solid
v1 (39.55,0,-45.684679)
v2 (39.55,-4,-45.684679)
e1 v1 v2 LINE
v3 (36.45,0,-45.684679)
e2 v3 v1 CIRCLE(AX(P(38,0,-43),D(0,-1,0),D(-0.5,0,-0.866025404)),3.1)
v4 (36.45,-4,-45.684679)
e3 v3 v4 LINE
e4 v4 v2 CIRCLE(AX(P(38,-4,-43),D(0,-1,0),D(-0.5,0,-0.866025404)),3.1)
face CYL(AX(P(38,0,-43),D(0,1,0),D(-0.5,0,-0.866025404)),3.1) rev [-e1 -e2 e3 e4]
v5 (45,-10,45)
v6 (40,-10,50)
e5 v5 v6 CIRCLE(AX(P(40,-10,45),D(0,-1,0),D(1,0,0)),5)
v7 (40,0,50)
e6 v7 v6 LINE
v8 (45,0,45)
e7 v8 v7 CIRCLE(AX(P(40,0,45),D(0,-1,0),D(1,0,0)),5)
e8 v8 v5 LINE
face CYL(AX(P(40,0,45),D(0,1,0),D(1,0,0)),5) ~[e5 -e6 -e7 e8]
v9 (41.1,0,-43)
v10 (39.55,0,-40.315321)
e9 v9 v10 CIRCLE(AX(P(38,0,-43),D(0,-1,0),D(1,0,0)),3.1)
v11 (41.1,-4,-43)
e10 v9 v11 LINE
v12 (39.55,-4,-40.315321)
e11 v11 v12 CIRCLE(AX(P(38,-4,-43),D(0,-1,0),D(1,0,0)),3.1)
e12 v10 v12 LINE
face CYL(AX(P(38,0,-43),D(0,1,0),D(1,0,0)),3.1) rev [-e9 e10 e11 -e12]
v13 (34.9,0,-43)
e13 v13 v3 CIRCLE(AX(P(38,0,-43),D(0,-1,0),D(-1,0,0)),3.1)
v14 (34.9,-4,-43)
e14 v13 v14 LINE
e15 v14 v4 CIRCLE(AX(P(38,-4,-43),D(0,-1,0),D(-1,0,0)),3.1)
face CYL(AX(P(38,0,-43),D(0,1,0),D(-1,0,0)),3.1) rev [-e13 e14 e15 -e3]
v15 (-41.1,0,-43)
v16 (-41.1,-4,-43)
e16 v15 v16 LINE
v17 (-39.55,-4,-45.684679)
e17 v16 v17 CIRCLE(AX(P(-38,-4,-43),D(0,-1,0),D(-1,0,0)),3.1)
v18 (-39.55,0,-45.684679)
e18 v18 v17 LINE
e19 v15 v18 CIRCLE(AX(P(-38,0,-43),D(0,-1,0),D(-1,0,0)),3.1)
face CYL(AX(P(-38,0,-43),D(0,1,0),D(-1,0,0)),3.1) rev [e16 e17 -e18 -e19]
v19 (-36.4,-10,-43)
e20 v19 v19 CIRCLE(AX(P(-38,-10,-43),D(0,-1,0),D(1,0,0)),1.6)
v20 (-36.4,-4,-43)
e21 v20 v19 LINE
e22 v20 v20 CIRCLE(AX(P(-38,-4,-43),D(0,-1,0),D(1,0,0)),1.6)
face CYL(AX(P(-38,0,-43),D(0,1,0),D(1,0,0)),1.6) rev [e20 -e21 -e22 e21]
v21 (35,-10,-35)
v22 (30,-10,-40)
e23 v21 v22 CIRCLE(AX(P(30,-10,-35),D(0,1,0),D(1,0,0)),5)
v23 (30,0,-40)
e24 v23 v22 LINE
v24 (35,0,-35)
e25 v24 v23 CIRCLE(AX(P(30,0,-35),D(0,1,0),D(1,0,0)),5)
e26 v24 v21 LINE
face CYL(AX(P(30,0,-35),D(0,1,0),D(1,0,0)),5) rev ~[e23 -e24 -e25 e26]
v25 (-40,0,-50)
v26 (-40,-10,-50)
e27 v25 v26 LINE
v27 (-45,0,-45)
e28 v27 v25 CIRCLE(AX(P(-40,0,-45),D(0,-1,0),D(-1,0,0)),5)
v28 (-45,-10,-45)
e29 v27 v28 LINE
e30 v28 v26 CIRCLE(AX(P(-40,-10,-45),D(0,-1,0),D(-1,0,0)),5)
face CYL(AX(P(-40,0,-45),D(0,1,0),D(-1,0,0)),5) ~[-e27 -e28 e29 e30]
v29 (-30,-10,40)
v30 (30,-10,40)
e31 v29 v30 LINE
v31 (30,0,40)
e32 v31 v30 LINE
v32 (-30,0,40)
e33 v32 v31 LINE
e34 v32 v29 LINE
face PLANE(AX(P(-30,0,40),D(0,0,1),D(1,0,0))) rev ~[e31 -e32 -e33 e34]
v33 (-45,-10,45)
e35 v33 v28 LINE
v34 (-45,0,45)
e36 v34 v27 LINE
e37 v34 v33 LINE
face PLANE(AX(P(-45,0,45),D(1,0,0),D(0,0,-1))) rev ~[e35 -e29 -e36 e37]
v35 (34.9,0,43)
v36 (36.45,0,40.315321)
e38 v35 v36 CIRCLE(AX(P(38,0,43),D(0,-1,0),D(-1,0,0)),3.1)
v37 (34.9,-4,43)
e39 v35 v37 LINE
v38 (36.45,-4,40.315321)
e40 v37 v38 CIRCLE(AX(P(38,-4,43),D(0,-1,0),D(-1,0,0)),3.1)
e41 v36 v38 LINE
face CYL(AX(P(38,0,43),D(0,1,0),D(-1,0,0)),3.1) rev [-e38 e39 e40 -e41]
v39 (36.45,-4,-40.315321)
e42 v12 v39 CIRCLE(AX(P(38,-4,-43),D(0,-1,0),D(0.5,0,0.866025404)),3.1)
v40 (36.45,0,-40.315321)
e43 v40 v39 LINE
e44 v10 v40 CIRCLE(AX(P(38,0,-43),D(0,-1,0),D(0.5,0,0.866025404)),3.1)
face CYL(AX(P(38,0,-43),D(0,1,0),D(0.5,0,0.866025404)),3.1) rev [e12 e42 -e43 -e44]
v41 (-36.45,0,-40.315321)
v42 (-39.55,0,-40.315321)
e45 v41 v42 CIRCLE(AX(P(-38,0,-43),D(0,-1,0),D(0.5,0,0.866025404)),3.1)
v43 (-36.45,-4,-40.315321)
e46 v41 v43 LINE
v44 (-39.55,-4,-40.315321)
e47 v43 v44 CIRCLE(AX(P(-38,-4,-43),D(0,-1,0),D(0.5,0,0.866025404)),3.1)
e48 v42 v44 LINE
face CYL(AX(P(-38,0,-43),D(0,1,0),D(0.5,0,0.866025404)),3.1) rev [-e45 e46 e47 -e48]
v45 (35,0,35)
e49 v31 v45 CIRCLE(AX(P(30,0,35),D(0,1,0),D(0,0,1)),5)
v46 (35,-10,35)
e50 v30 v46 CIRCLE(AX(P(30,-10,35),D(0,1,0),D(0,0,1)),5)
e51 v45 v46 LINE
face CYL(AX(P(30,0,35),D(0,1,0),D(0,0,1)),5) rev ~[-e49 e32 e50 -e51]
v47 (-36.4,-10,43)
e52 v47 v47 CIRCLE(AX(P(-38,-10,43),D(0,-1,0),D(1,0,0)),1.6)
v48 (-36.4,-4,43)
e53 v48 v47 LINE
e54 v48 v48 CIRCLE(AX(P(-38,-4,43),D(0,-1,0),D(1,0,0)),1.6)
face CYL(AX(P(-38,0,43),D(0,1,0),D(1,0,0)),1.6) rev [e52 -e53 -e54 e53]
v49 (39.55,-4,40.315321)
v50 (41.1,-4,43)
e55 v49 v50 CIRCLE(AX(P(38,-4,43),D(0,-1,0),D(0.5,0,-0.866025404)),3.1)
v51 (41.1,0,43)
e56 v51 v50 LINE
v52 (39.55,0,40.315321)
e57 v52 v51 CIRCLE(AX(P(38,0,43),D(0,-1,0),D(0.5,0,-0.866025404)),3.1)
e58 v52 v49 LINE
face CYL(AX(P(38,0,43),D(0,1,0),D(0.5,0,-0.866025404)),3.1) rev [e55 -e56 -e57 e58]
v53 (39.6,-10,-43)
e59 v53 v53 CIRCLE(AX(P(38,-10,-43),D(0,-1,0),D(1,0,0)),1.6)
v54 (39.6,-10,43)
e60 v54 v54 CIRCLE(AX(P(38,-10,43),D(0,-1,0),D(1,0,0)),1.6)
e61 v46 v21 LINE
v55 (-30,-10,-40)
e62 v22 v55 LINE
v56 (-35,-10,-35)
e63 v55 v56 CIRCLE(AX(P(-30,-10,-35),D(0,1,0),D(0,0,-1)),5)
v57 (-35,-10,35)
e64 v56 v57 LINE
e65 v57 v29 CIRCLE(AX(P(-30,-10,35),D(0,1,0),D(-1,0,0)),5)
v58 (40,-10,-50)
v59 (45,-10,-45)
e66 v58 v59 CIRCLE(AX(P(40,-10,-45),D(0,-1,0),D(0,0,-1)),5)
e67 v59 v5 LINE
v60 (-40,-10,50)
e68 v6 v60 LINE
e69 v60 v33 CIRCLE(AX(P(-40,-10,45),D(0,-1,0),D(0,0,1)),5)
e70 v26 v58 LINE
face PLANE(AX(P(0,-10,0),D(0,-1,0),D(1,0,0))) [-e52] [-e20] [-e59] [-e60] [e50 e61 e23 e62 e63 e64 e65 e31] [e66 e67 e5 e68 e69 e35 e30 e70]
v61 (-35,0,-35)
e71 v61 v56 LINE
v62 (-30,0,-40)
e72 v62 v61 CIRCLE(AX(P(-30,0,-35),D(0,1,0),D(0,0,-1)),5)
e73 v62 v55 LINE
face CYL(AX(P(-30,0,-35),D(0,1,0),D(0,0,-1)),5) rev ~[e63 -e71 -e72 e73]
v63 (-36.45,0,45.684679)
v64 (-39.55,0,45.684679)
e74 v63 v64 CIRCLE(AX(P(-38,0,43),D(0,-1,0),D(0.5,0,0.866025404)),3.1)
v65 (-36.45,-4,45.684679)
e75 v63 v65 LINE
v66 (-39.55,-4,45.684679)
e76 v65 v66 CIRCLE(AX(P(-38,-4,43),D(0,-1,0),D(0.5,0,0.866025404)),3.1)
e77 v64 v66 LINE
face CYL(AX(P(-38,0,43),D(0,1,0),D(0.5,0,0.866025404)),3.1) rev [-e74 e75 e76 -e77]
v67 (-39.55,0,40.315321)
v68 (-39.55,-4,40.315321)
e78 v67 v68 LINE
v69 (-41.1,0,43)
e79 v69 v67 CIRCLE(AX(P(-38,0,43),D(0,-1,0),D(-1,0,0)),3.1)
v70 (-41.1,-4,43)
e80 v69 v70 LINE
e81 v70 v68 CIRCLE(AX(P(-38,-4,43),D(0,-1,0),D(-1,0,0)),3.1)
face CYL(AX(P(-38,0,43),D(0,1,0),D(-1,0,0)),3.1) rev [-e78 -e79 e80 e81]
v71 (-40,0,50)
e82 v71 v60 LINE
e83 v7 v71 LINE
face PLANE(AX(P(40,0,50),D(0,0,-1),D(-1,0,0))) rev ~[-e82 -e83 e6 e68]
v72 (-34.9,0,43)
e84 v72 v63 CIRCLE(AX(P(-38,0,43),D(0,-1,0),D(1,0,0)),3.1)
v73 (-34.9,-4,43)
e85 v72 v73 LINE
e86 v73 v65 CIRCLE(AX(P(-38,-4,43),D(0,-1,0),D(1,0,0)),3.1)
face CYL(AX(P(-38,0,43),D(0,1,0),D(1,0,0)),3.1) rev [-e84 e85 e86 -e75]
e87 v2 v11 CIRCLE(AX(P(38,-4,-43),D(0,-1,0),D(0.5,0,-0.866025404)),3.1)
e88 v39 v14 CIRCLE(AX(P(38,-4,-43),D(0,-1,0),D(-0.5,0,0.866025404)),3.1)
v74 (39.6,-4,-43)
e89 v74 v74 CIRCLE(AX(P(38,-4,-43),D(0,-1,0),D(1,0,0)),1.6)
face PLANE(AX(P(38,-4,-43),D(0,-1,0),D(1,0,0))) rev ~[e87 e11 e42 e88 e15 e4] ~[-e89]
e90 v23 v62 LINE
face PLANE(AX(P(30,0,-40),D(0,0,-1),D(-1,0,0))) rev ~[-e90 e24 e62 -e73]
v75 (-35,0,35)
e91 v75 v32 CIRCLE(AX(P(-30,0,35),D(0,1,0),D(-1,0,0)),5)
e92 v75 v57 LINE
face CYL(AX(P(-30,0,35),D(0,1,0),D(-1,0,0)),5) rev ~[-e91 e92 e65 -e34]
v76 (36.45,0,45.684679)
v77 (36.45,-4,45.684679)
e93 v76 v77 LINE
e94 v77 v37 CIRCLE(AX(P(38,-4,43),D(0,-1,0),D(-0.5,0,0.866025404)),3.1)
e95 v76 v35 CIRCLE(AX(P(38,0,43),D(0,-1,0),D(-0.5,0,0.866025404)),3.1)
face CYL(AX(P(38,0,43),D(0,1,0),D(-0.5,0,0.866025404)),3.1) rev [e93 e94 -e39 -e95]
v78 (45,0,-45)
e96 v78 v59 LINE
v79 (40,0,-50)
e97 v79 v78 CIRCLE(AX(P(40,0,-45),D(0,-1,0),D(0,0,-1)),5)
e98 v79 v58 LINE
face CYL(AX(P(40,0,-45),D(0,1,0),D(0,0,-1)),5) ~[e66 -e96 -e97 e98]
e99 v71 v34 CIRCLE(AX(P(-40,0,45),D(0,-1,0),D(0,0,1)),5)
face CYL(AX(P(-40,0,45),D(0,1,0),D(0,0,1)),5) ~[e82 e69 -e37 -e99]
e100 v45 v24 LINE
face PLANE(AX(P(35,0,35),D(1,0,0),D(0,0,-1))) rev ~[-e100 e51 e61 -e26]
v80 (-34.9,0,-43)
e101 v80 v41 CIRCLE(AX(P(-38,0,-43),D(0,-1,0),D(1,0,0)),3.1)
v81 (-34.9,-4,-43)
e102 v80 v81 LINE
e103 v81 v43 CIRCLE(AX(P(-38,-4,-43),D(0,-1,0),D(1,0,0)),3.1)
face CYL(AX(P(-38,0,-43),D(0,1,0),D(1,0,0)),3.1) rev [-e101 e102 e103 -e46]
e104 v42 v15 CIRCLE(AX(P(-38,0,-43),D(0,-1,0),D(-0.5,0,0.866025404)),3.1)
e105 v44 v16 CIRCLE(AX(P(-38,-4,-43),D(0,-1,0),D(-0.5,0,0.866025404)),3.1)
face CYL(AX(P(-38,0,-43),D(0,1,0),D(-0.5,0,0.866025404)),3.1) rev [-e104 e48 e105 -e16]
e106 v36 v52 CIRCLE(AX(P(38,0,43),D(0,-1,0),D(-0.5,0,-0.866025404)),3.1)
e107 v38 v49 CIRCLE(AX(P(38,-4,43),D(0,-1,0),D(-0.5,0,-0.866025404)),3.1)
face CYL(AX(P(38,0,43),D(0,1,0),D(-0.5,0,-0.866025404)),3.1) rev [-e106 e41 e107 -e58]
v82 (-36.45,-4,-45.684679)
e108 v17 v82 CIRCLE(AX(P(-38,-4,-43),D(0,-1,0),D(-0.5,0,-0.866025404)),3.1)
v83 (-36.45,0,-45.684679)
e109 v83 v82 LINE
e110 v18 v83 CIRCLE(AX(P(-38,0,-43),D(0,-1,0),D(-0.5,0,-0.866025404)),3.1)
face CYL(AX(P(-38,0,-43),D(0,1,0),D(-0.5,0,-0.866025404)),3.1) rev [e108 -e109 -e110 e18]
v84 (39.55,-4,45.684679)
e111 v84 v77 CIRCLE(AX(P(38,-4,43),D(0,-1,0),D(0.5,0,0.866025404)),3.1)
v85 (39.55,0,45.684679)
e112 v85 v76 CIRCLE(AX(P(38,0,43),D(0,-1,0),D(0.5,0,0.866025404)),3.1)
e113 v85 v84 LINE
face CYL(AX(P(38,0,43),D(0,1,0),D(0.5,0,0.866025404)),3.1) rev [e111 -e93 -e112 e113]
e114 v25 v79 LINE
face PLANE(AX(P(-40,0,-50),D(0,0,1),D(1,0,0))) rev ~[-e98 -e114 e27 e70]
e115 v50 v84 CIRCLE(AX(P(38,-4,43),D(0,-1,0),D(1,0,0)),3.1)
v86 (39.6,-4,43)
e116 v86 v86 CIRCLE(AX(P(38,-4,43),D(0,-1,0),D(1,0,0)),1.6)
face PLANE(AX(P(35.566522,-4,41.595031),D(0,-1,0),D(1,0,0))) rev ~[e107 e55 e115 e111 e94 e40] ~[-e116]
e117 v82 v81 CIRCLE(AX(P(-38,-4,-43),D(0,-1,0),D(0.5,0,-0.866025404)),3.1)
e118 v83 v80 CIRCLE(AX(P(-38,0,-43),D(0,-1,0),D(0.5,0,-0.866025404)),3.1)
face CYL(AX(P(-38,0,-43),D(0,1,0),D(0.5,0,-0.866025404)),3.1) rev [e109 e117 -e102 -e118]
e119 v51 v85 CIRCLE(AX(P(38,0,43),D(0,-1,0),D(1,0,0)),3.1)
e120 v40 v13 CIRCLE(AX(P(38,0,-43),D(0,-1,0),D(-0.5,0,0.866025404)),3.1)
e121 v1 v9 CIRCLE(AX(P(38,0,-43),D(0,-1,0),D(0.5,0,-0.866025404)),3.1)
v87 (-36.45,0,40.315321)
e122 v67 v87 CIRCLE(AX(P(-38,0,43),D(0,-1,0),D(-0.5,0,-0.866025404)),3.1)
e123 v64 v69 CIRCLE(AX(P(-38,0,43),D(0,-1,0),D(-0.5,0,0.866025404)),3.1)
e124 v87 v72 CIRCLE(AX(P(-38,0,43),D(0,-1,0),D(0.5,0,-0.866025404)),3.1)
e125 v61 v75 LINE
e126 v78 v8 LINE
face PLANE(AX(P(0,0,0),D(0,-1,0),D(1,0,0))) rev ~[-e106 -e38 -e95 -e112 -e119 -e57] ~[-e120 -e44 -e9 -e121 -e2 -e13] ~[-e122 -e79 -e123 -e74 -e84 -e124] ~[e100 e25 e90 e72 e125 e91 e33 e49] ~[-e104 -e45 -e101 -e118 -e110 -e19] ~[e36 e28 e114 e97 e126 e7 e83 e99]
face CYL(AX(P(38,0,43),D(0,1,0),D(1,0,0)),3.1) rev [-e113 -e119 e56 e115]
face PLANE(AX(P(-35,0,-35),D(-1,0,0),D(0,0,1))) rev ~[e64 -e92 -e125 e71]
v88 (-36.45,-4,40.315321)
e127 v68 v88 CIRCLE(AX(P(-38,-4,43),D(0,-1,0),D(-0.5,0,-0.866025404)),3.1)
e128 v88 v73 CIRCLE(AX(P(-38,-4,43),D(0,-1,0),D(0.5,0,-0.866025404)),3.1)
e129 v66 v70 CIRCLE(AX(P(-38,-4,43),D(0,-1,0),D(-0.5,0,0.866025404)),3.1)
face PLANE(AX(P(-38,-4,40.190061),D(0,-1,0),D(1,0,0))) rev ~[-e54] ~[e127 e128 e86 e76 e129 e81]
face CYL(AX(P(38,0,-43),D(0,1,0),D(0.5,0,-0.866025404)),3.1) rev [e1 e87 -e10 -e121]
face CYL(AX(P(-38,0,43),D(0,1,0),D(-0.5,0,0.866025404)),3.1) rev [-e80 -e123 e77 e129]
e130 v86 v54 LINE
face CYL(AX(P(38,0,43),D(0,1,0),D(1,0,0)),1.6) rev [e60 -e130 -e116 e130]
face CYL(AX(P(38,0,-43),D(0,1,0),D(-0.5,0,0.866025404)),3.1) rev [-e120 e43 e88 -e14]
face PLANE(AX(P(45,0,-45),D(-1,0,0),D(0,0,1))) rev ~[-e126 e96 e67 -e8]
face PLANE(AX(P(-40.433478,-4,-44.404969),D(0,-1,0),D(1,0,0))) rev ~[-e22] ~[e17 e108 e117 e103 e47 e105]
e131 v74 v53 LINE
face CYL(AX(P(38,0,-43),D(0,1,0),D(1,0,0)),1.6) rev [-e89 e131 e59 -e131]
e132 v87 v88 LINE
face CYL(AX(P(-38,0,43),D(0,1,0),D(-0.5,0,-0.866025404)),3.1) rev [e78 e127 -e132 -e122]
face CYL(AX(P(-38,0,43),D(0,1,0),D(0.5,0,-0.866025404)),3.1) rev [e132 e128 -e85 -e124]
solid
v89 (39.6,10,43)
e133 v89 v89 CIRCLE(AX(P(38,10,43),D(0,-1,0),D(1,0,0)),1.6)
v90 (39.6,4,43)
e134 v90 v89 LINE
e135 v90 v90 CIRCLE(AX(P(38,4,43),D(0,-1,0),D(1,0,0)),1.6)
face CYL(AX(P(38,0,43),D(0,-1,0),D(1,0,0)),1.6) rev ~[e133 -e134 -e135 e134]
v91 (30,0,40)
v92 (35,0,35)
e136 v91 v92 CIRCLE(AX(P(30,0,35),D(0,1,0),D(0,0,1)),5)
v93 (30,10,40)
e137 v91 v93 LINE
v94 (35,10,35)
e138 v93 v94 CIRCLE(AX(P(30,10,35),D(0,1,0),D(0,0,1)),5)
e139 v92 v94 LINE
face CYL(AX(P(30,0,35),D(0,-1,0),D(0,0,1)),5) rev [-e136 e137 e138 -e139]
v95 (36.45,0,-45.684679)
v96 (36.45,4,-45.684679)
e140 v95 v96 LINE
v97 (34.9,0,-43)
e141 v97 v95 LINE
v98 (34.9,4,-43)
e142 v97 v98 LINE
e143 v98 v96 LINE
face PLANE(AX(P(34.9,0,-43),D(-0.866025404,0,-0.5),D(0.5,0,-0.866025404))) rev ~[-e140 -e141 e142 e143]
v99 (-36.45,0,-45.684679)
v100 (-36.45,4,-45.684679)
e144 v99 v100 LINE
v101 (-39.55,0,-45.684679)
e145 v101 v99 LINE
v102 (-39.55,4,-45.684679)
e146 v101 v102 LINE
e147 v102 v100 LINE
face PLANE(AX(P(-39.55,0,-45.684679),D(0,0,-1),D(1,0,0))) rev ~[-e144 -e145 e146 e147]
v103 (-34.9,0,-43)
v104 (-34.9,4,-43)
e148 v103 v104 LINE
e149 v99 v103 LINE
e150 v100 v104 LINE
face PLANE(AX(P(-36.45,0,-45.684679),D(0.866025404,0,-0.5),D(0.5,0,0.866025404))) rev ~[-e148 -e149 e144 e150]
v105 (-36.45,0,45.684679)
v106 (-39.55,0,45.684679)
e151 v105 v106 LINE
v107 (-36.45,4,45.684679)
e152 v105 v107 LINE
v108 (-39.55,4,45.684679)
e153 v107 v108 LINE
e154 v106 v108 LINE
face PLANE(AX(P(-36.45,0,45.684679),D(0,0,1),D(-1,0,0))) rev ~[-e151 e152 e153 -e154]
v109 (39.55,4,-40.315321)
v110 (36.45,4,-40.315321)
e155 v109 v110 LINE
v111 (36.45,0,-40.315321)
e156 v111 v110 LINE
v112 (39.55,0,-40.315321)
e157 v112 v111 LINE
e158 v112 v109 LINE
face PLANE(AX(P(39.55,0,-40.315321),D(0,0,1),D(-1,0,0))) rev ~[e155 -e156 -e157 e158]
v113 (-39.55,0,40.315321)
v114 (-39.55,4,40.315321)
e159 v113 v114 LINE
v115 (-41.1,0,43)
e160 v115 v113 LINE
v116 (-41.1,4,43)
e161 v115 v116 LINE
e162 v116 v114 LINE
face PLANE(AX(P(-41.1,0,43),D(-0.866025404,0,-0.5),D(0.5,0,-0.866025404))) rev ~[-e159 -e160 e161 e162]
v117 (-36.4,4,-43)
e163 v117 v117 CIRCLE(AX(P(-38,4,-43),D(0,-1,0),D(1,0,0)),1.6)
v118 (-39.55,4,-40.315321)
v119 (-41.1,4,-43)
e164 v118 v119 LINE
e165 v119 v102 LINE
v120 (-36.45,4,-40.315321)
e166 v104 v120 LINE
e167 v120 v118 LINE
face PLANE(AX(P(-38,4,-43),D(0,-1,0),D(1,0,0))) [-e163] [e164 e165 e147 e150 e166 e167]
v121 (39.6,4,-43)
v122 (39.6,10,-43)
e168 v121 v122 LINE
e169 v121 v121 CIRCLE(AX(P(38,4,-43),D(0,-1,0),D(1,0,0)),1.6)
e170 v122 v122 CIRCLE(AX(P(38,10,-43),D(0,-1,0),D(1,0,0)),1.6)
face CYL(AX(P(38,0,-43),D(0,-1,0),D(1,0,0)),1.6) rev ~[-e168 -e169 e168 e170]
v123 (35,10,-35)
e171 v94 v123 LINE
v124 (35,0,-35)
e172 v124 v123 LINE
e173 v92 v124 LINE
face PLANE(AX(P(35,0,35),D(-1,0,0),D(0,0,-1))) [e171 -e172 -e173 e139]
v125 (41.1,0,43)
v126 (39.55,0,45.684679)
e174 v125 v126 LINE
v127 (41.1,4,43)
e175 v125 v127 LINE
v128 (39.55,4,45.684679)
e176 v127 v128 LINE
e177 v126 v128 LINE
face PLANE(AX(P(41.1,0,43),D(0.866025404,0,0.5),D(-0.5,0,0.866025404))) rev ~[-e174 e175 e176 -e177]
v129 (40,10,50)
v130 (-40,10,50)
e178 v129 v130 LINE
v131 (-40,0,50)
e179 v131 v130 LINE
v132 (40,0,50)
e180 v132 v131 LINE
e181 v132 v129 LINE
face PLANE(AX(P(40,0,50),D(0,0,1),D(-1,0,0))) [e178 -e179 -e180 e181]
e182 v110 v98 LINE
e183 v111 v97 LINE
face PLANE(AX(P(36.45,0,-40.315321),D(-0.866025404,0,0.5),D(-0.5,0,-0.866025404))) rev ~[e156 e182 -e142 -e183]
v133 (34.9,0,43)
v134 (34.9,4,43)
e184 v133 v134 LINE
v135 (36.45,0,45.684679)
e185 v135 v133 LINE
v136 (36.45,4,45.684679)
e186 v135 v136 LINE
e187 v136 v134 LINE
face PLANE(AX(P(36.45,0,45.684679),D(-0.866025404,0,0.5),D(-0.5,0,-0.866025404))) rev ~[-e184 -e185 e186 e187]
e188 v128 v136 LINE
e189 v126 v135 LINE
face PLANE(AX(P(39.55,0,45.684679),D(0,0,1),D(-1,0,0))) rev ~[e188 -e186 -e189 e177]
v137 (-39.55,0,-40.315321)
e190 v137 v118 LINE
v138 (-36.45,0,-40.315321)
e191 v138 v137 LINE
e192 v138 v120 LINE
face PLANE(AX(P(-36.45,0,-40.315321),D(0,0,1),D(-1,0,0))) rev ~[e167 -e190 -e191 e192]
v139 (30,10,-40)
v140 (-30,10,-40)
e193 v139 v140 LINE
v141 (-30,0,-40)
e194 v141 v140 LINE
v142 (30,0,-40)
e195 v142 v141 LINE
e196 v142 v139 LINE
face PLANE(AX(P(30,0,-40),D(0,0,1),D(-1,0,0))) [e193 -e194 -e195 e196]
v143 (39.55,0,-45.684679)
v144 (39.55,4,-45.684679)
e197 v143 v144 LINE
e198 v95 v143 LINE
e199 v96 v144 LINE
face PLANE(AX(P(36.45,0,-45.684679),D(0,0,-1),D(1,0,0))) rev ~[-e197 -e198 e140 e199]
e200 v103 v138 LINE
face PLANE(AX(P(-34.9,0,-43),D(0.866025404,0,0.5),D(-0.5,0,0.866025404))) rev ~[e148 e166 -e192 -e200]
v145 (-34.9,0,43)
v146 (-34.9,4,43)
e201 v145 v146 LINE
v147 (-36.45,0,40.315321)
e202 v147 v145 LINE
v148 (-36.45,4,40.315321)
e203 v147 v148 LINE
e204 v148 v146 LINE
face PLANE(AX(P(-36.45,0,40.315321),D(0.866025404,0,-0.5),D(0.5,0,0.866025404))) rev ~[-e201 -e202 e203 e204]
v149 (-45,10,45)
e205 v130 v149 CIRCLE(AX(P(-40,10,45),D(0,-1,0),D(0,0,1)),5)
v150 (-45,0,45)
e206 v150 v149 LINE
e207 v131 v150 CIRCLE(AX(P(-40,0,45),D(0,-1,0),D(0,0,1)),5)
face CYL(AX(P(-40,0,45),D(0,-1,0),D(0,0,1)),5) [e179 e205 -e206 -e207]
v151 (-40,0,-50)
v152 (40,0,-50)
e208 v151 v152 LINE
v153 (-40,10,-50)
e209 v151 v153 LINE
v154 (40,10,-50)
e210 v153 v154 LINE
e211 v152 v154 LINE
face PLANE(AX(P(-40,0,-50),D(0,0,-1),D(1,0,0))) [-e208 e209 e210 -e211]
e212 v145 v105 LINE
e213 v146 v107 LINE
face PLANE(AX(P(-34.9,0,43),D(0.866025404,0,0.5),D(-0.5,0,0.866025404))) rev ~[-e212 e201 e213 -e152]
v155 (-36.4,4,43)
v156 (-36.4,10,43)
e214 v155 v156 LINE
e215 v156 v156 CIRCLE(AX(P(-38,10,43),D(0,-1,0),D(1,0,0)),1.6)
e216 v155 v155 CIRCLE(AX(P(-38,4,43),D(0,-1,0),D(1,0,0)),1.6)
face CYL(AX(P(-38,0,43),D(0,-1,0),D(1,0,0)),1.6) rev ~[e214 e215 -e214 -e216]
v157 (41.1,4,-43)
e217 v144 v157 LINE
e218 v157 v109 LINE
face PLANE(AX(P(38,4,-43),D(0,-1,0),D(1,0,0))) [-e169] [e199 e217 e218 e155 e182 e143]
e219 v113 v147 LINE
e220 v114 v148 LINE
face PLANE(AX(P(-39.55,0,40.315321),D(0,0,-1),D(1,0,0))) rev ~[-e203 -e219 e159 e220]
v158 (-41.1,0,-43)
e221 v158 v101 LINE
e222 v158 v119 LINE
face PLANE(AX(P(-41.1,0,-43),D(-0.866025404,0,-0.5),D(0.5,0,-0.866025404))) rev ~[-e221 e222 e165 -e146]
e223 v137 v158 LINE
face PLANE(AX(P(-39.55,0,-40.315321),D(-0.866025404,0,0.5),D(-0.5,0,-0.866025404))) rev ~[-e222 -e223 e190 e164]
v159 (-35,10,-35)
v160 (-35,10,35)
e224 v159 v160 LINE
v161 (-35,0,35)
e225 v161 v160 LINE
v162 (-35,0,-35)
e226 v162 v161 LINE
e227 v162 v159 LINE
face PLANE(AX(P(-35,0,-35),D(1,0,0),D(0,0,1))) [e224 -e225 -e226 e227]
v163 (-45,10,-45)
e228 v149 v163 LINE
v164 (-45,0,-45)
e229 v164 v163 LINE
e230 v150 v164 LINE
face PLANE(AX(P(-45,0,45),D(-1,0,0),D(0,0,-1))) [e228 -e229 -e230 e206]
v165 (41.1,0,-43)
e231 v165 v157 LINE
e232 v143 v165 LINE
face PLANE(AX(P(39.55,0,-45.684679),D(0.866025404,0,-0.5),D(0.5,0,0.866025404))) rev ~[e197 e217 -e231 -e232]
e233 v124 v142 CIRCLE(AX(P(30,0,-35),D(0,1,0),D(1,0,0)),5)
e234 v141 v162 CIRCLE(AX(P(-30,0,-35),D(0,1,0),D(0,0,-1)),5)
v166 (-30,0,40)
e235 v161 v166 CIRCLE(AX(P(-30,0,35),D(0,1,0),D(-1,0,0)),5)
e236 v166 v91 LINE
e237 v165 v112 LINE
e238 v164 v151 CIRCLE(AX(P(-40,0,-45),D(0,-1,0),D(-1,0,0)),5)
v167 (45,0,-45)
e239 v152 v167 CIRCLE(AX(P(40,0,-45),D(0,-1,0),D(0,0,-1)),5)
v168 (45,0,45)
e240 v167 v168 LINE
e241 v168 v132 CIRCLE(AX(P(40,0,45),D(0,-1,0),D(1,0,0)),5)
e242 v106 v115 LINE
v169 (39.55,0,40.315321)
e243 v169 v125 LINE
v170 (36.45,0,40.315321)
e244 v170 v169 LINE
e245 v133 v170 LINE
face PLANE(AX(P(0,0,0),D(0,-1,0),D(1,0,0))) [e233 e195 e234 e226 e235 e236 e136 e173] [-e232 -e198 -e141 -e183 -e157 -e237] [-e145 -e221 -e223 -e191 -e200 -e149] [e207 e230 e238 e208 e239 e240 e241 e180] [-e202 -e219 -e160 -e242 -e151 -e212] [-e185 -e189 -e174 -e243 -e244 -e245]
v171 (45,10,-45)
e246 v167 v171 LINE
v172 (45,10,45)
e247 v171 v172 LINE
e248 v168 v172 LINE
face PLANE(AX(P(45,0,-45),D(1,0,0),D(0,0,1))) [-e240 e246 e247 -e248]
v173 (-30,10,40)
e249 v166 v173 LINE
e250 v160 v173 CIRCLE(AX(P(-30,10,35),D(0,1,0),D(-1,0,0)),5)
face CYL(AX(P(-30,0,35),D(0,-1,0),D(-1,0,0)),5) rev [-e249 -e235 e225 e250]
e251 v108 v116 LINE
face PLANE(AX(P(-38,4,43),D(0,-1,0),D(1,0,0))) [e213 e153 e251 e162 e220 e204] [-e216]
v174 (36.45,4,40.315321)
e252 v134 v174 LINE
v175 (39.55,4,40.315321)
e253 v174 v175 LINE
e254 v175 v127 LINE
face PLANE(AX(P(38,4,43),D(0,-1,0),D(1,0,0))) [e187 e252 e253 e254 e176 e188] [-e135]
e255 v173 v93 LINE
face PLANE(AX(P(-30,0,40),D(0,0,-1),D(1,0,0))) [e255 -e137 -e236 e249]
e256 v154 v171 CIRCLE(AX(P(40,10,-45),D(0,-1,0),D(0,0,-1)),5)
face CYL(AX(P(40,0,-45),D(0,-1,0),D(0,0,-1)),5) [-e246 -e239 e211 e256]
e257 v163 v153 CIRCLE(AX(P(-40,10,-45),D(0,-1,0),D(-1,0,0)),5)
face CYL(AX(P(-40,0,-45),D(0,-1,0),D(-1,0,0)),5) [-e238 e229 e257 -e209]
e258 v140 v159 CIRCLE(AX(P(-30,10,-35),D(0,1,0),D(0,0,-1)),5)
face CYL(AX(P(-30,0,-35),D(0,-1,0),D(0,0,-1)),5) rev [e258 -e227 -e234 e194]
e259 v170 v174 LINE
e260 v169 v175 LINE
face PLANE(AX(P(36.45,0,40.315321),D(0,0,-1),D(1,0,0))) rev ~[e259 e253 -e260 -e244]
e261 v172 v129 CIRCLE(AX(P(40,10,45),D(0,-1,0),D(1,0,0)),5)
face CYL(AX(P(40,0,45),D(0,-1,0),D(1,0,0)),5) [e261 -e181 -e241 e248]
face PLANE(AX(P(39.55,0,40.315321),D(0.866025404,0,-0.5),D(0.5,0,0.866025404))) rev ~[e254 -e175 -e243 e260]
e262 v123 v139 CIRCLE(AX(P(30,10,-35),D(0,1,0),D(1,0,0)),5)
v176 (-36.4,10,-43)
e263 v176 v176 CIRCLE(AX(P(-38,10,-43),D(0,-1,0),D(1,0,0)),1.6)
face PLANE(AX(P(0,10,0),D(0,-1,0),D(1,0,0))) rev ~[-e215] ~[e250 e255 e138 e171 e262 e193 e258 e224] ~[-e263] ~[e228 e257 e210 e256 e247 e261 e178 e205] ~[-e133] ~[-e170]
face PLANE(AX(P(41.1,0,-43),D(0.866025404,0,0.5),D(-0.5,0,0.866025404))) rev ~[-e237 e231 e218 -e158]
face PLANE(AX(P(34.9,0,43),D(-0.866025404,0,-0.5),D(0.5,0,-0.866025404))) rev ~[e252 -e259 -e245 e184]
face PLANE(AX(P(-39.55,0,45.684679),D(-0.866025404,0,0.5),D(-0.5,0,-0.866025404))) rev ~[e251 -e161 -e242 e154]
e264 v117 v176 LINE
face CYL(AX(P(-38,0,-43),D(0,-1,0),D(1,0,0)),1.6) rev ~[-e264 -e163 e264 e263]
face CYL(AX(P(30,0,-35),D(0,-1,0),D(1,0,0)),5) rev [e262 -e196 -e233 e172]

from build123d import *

# Parameters (mm, degrees)
F0_R     = 1.6
F1_DEPTH = 10
F2_DEPTH = 10
F4_DEPTH = 4
F5_DEPTH = 4


with BuildPart() as f1:
    # F0 (on Front) → F1 (new body)
    with BuildSketch(Plane.XZ):
        with BuildLine():
            Line((-40, -50), (40, -50))
            ThreePointArc((40, -50), (43.5355339059, -48.5355339059), (45, -45))
            Line((45, -45), (45, 45))
            ThreePointArc((45, 45), (43.5355339059, 48.5355339059), (40, 50))
            Line((40, 50), (-40, 50))
            ThreePointArc((-40, 50), (-43.5355339059, 48.5355339059), (-45, 45))
            Line((-45, 45), (-45, -45))
            ThreePointArc((-45, -45), (-43.5355339059, -48.5355339059), (-40, -50))
        make_face()
        with BuildLine():
            ThreePointArc((-39.55, -40.3153212483), (-38, -39.9), (-36.45, -40.3153212483))
            ThreePointArc((-36.45, -40.3153212483), (-35.3153212483, -41.45), (-34.9, -43))
            ThreePointArc((-34.9, -43), (-35.3153212483, -44.55), (-36.45, -45.6846787517))
            ThreePointArc((-36.45, -45.6846787517), (-38, -46.1), (-39.55, -45.6846787517))
            ThreePointArc((-39.55, -45.6846787517), (-40.6846787517, -44.55), (-41.1, -43))
            ThreePointArc((-41.1, -43), (-40.6846787517, -41.45), (-39.55, -40.3153212483))
        make_face(mode=Mode.SUBTRACT)
        with BuildLine():
            ThreePointArc((36.45, -40.3153212483), (38, -39.9), (39.55, -40.3153212483))
            ThreePointArc((39.55, -40.3153212483), (40.6846787517, -41.45), (41.1, -43))
            ThreePointArc((41.1, -43), (40.6846787517, -44.55), (39.55, -45.6846787517))
            ThreePointArc((39.55, -45.6846787517), (38, -46.1), (36.45, -45.6846787517))
            ThreePointArc((36.45, -45.6846787517), (35.3153212483, -44.55), (34.9, -43))
            ThreePointArc((34.9, -43), (35.3153212483, -41.45), (36.45, -40.3153212483))
        make_face(mode=Mode.SUBTRACT)
        with BuildLine():
            ThreePointArc((35, -35), (33.5355339059, -38.5355339059), (30, -40))
            Line((30, -40), (-30, -40))
            ThreePointArc((-30, -40), (-33.5355339059, -38.5355339059), (-35, -35))
            Line((-35, -35), (-35, 35))
            ThreePointArc((-35, 35), (-33.5355339059, 38.5355339059), (-30, 40))
            Line((-30, 40), (30, 40))
            ThreePointArc((30, 40), (33.5355339059, 38.5355339059), (35, 35))
            Line((35, 35), (35, -35))
        make_face(mode=Mode.SUBTRACT)
        with BuildLine():
            ThreePointArc((-36.45, 45.6846787517), (-35.3153212483, 44.55), (-34.9, 43))
            ThreePointArc((-34.9, 43), (-35.3153212483, 41.45), (-36.45, 40.3153212483))
            ThreePointArc((-36.45, 40.3153212483), (-38, 39.9), (-39.55, 40.3153212483))
            ThreePointArc((-39.55, 40.3153212483), (-40.6846787517, 41.45), (-41.1, 43))
            ThreePointArc((-41.1, 43), (-40.6846787517, 44.55), (-39.55, 45.6846787517))
            ThreePointArc((-39.55, 45.6846787517), (-38, 46.1), (-36.45, 45.6846787517))
        make_face(mode=Mode.SUBTRACT)
        with BuildLine():
            ThreePointArc((39.55, 45.6846787517), (40.6846787517, 44.55), (41.1, 43))
            ThreePointArc((41.1, 43), (40.6846787517, 41.45), (39.55, 40.3153212483))
            ThreePointArc((39.55, 40.3153212483), (38, 39.9), (36.45, 40.3153212483))
            ThreePointArc((36.45, 40.3153212483), (35.3153212483, 41.45), (34.9, 43))
            ThreePointArc((34.9, 43), (35.3153212483, 44.55), (36.45, 45.6846787517))
            ThreePointArc((36.45, 45.6846787517), (38, 46.1), (39.55, 45.6846787517))
        make_face(mode=Mode.SUBTRACT)
        with BuildLine():
            ThreePointArc((-36.45, 40.3153212483), (-35.3153212483, 41.45), (-34.9, 43))
            Line((-34.9, 43), (-36.45, 40.3153212483))
        make_face()
        Polygon((-36.45, 40.3153212483), (-34.9, 43), (-36.45, 45.6846787517), (-39.55, 45.6846787517), (-41.1, 43), (-39.55, 40.3153212483), align=None)
        with Locations((-38, 43)):
            Circle(F0_R, mode=Mode.SUBTRACT)
        with BuildLine():
            Line((-36.45, 45.6846787517), (-34.9, 43))
            ThreePointArc((-34.9, 43), (-35.3153212483, 44.55), (-36.45, 45.6846787517))
        make_face()
        with BuildLine():
            Line((-39.55, 45.6846787517), (-36.45, 45.6846787517))
            ThreePointArc((-36.45, 45.6846787517), (-38, 46.1), (-39.55, 45.6846787517))
        make_face()
        with BuildLine():
            Line((-41.1, 43), (-39.55, 45.6846787517))
            ThreePointArc((-39.55, 45.6846787517), (-40.6846787517, 44.55), (-41.1, 43))
        make_face()
        with BuildLine():
            ThreePointArc((-41.1, 43), (-40.6846787517, 41.45), (-39.55, 40.3153212483))
            Line((-39.55, 40.3153212483), (-41.1, 43))
        make_face()
        with BuildLine():
            ThreePointArc((-39.55, 40.3153212483), (-38, 39.9), (-36.45, 40.3153212483))
            Line((-36.45, 40.3153212483), (-39.55, 40.3153212483))
        make_face()
        with BuildLine():
            Line((39.55, 45.6846787517), (41.1, 43))
            ThreePointArc((41.1, 43), (40.6846787517, 44.55), (39.55, 45.6846787517))
        make_face()
        Polygon((39.55, 40.3153212483), (41.1, 43), (39.55, 45.6846787517), (36.45, 45.6846787517), (34.9, 43), (36.45, 40.3153212483), align=None)
        with Locations((38, 43)):
            Circle(F0_R, mode=Mode.SUBTRACT)
        with BuildLine():
            ThreePointArc((34.9, 43), (35.3153212483, 41.45), (36.45, 40.3153212483))
            Line((36.45, 40.3153212483), (34.9, 43))
        make_face()
        with BuildLine():
            ThreePointArc((36.45, 40.3153212483), (38, 39.9), (39.55, 40.3153212483))
            Line((39.55, 40.3153212483), (36.45, 40.3153212483))
        make_face()
        with BuildLine():
            Line((36.45, 45.6846787517), (39.55, 45.6846787517))
            ThreePointArc((39.55, 45.6846787517), (38, 46.1), (36.45, 45.6846787517))
        make_face()
        with BuildLine():
            ThreePointArc((39.55, 40.3153212483), (40.6846787517, 41.45), (41.1, 43))
            Line((41.1, 43), (39.55, 40.3153212483))
        make_face()
        with BuildLine():
            Line((34.9, 43), (36.45, 45.6846787517))
            ThreePointArc((36.45, 45.6846787517), (35.3153212483, 44.55), (34.9, 43))
        make_face()
        Polygon((41.1, -43), (39.55, -40.3153212483), (36.45, -40.3153212483), (34.9, -43), (36.45, -45.6846787517), (39.55, -45.6846787517), align=None)
        with Locations((38, -43)):
            Circle(F0_R, mode=Mode.SUBTRACT)
        with BuildLine():
            ThreePointArc((39.55, -45.6846787517), (40.6846787517, -44.55), (41.1, -43))
            Line((41.1, -43), (39.55, -45.6846787517))
        make_face()
        with BuildLine():
            Line((34.9, -43), (36.45, -40.3153212483))
            ThreePointArc((36.45, -40.3153212483), (35.3153212483, -41.45), (34.9, -43))
        make_face()
        with BuildLine():
            ThreePointArc((36.45, -45.6846787517), (38, -46.1), (39.55, -45.6846787517))
            Line((39.55, -45.6846787517), (36.45, -45.6846787517))
        make_face()
        with BuildLine():
            Line((36.45, -45.6846787517), (34.9, -43))
            ThreePointArc((34.9, -43), (35.3153212483, -44.55), (36.45, -45.6846787517))
        make_face()
        with BuildLine():
            Line((36.45, -40.3153212483), (39.55, -40.3153212483))
            ThreePointArc((39.55, -40.3153212483), (38, -39.9), (36.45, -40.3153212483))
        make_face()
        with BuildLine():
            ThreePointArc((41.1, -43), (40.6846787517, -41.45), (39.55, -40.3153212483))
            Line((39.55, -40.3153212483), (41.1, -43))
        make_face()
        Polygon((-34.9, -43), (-36.45, -40.3153212483), (-39.55, -40.3153212483), (-41.1, -43), (-39.55, -45.6846787517), (-36.45, -45.6846787517), align=None)
        with Locations((-38, -43)):
            Circle(F0_R, mode=Mode.SUBTRACT)
        with BuildLine():
            ThreePointArc((-39.55, -45.6846787517), (-38, -46.1), (-36.45, -45.6846787517))
            Line((-36.45, -45.6846787517), (-39.55, -45.6846787517))
        make_face()
        with BuildLine():
            ThreePointArc((-36.45, -45.6846787517), (-35.3153212483, -44.55), (-34.9, -43))
            Line((-34.9, -43), (-36.45, -45.6846787517))
        make_face()
        with BuildLine():
            Line((-39.55, -45.6846787517), (-41.1, -43))
            ThreePointArc((-41.1, -43), (-40.6846787517, -44.55), (-39.55, -45.6846787517))
        make_face()
        with BuildLine():
            Line((-41.1, -43), (-39.55, -40.3153212483))
            ThreePointArc((-39.55, -40.3153212483), (-40.6846787517, -41.45), (-41.1, -43))
        make_face()
        with BuildLine():
            Line((-39.55, -40.3153212483), (-36.45, -40.3153212483))
            ThreePointArc((-36.45, -40.3153212483), (-38, -39.9), (-39.55, -40.3153212483))
        make_face()
        with BuildLine():
            ThreePointArc((-34.9, -43), (-35.3153212483, -41.45), (-36.45, -40.3153212483))
            Line((-36.45, -40.3153212483), (-34.9, -43))
        make_face()
    extrude(amount=F1_DEPTH)

    # F0 (on Front) → F5 (cut)
    with BuildSketch(Plane.XZ):
        Polygon((41.1, -43), (39.55, -40.3153212483), (36.45, -40.3153212483), (34.9, -43), (36.45, -45.6846787517), (39.55, -45.6846787517), align=None)
        with Locations((38, -43)):
            Circle(F0_R, mode=Mode.SUBTRACT)
        with BuildLine():
            Line((36.45, -40.3153212483), (39.55, -40.3153212483))
            ThreePointArc((39.55, -40.3153212483), (38, -39.9), (36.45, -40.3153212483))
        make_face()
        with BuildLine():
            ThreePointArc((41.1, -43), (40.6846787517, -41.45), (39.55, -40.3153212483))
            Line((39.55, -40.3153212483), (41.1, -43))
        make_face()
        with BuildLine():
            ThreePointArc((39.55, -45.6846787517), (40.6846787517, -44.55), (41.1, -43))
            Line((41.1, -43), (39.55, -45.6846787517))
        make_face()
        with BuildLine():
            ThreePointArc((36.45, -45.6846787517), (38, -46.1), (39.55, -45.6846787517))
            Line((39.55, -45.6846787517), (36.45, -45.6846787517))
        make_face()
        with BuildLine():
            Line((36.45, -45.6846787517), (34.9, -43))
            ThreePointArc((34.9, -43), (35.3153212483, -44.55), (36.45, -45.6846787517))
        make_face()
        with BuildLine():
            Line((34.9, -43), (36.45, -40.3153212483))
            ThreePointArc((36.45, -40.3153212483), (35.3153212483, -41.45), (34.9, -43))
        make_face()
        with BuildLine():
            Line((-39.55, -45.6846787517), (-41.1, -43))
            ThreePointArc((-41.1, -43), (-40.6846787517, -44.55), (-39.55, -45.6846787517))
        make_face()
        with BuildLine():
            ThreePointArc((-39.55, -45.6846787517), (-38, -46.1), (-36.45, -45.6846787517))
            Line((-36.45, -45.6846787517), (-39.55, -45.6846787517))
        make_face()
        with BuildLine():
            ThreePointArc((-36.45, -45.6846787517), (-35.3153212483, -44.55), (-34.9, -43))
            Line((-34.9, -43), (-36.45, -45.6846787517))
        make_face()
        with BuildLine():
            ThreePointArc((-34.9, -43), (-35.3153212483, -41.45), (-36.45, -40.3153212483))
            Line((-36.45, -40.3153212483), (-34.9, -43))
        make_face()
        with BuildLine():
            Line((-39.55, -40.3153212483), (-36.45, -40.3153212483))
            ThreePointArc((-36.45, -40.3153212483), (-38, -39.9), (-39.55, -40.3153212483))
        make_face()
        with BuildLine():
            Line((-41.1, -43), (-39.55, -40.3153212483))
            ThreePointArc((-39.55, -40.3153212483), (-40.6846787517, -41.45), (-41.1, -43))
        make_face()
        Polygon((-34.9, -43), (-36.45, -40.3153212483), (-39.55, -40.3153212483), (-41.1, -43), (-39.55, -45.6846787517), (-36.45, -45.6846787517), align=None)
        with Locations((-38, -43)):
            Circle(F0_R, mode=Mode.SUBTRACT)
        with BuildLine():
            ThreePointArc((-39.55, 40.3153212483), (-38, 39.9), (-36.45, 40.3153212483))
            Line((-36.45, 40.3153212483), (-39.55, 40.3153212483))
        make_face()
        with BuildLine():
            ThreePointArc((-36.45, 40.3153212483), (-35.3153212483, 41.45), (-34.9, 43))
            Line((-34.9, 43), (-36.45, 40.3153212483))
        make_face()
        with BuildLine():
            Line((-36.45, 45.6846787517), (-34.9, 43))
            ThreePointArc((-34.9, 43), (-35.3153212483, 44.55), (-36.45, 45.6846787517))
        make_face()
        with BuildLine():
            Line((-39.55, 45.6846787517), (-36.45, 45.6846787517))
            ThreePointArc((-36.45, 45.6846787517), (-38, 46.1), (-39.55, 45.6846787517))
        make_face()
        with BuildLine():
            Line((-41.1, 43), (-39.55, 45.6846787517))
            ThreePointArc((-39.55, 45.6846787517), (-40.6846787517, 44.55), (-41.1, 43))
        make_face()
        with BuildLine():
            ThreePointArc((-41.1, 43), (-40.6846787517, 41.45), (-39.55, 40.3153212483))
            Line((-39.55, 40.3153212483), (-41.1, 43))
        make_face()
        Polygon((-36.45, 40.3153212483), (-34.9, 43), (-36.45, 45.6846787517), (-39.55, 45.6846787517), (-41.1, 43), (-39.55, 40.3153212483), align=None)
        with Locations((-38, 43)):
            Circle(F0_R, mode=Mode.SUBTRACT)
        with BuildLine():
            ThreePointArc((34.9, 43), (35.3153212483, 41.45), (36.45, 40.3153212483))
            Line((36.45, 40.3153212483), (34.9, 43))
        make_face()
        with BuildLine():
            ThreePointArc((36.45, 40.3153212483), (38, 39.9), (39.55, 40.3153212483))
            Line((39.55, 40.3153212483), (36.45, 40.3153212483))
        make_face()
        with BuildLine():
            ThreePointArc((39.55, 40.3153212483), (40.6846787517, 41.45), (41.1, 43))
            Line((41.1, 43), (39.55, 40.3153212483))
        make_face()
        with BuildLine():
            Line((39.55, 45.6846787517), (41.1, 43))
            ThreePointArc((41.1, 43), (40.6846787517, 44.55), (39.55, 45.6846787517))
        make_face()
        with BuildLine():
            Line((36.45, 45.6846787517), (39.55, 45.6846787517))
            ThreePointArc((39.55, 45.6846787517), (38, 46.1), (36.45, 45.6846787517))
        make_face()
        with BuildLine():
            Line((34.9, 43), (36.45, 45.6846787517))
            ThreePointArc((36.45, 45.6846787517), (35.3153212483, 44.55), (34.9, 43))
        make_face()
        Polygon((39.55, 40.3153212483), (41.1, 43), (39.55, 45.6846787517), (36.45, 45.6846787517), (34.9, 43), (36.45, 40.3153212483), align=None)
        with Locations((38, 43)):
            Circle(F0_R, mode=Mode.SUBTRACT)
    extrude(amount=F5_DEPTH, mode=Mode.SUBTRACT)


with BuildPart() as f2:
    # F0 (on Front) → F2 (new body)
    with BuildSketch(Plane.XZ):
        with BuildLine():
            Line((-40, -50), (40, -50))
            ThreePointArc((40, -50), (43.5355339059, -48.5355339059), (45, -45))
            Line((45, -45), (45, 45))
            ThreePointArc((45, 45), (43.5355339059, 48.5355339059), (40, 50))
            Line((40, 50), (-40, 50))
            ThreePointArc((-40, 50), (-43.5355339059, 48.5355339059), (-45, 45))
            Line((-45, 45), (-45, -45))
            ThreePointArc((-45, -45), (-43.5355339059, -48.5355339059), (-40, -50))
        make_face()
        with BuildLine():
            ThreePointArc((-39.55, -40.3153212483), (-38, -39.9), (-36.45, -40.3153212483))
            ThreePointArc((-36.45, -40.3153212483), (-35.3153212483, -41.45), (-34.9, -43))
            ThreePointArc((-34.9, -43), (-35.3153212483, -44.55), (-36.45, -45.6846787517))
            ThreePointArc((-36.45, -45.6846787517), (-38, -46.1), (-39.55, -45.6846787517))
            ThreePointArc((-39.55, -45.6846787517), (-40.6846787517, -44.55), (-41.1, -43))
            ThreePointArc((-41.1, -43), (-40.6846787517, -41.45), (-39.55, -40.3153212483))
        make_face(mode=Mode.SUBTRACT)
        with BuildLine():
            ThreePointArc((36.45, -40.3153212483), (38, -39.9), (39.55, -40.3153212483))
            ThreePointArc((39.55, -40.3153212483), (40.6846787517, -41.45), (41.1, -43))
            ThreePointArc((41.1, -43), (40.6846787517, -44.55), (39.55, -45.6846787517))
            ThreePointArc((39.55, -45.6846787517), (38, -46.1), (36.45, -45.6846787517))
            ThreePointArc((36.45, -45.6846787517), (35.3153212483, -44.55), (34.9, -43))
            ThreePointArc((34.9, -43), (35.3153212483, -41.45), (36.45, -40.3153212483))
        make_face(mode=Mode.SUBTRACT)
        with BuildLine():
            ThreePointArc((35, -35), (33.5355339059, -38.5355339059), (30, -40))
            Line((30, -40), (-30, -40))
            ThreePointArc((-30, -40), (-33.5355339059, -38.5355339059), (-35, -35))
            Line((-35, -35), (-35, 35))
            ThreePointArc((-35, 35), (-33.5355339059, 38.5355339059), (-30, 40))
            Line((-30, 40), (30, 40))
            ThreePointArc((30, 40), (33.5355339059, 38.5355339059), (35, 35))
            Line((35, 35), (35, -35))
        make_face(mode=Mode.SUBTRACT)
        with BuildLine():
            ThreePointArc((-36.45, 45.6846787517), (-35.3153212483, 44.55), (-34.9, 43))
            ThreePointArc((-34.9, 43), (-35.3153212483, 41.45), (-36.45, 40.3153212483))
            ThreePointArc((-36.45, 40.3153212483), (-38, 39.9), (-39.55, 40.3153212483))
            ThreePointArc((-39.55, 40.3153212483), (-40.6846787517, 41.45), (-41.1, 43))
            ThreePointArc((-41.1, 43), (-40.6846787517, 44.55), (-39.55, 45.6846787517))
            ThreePointArc((-39.55, 45.6846787517), (-38, 46.1), (-36.45, 45.6846787517))
        make_face(mode=Mode.SUBTRACT)
        with BuildLine():
            ThreePointArc((39.55, 45.6846787517), (40.6846787517, 44.55), (41.1, 43))
            ThreePointArc((41.1, 43), (40.6846787517, 41.45), (39.55, 40.3153212483))
            ThreePointArc((39.55, 40.3153212483), (38, 39.9), (36.45, 40.3153212483))
            ThreePointArc((36.45, 40.3153212483), (35.3153212483, 41.45), (34.9, 43))
            ThreePointArc((34.9, 43), (35.3153212483, 44.55), (36.45, 45.6846787517))
            ThreePointArc((36.45, 45.6846787517), (38, 46.1), (39.55, 45.6846787517))
        make_face(mode=Mode.SUBTRACT)
        Polygon((41.1, -43), (39.55, -40.3153212483), (36.45, -40.3153212483), (34.9, -43), (36.45, -45.6846787517), (39.55, -45.6846787517), align=None)
        with Locations((38, -43)):
            Circle(F0_R, mode=Mode.SUBTRACT)
        Polygon((-34.9, -43), (-36.45, -40.3153212483), (-39.55, -40.3153212483), (-41.1, -43), (-39.55, -45.6846787517), (-36.45, -45.6846787517), align=None)
        with Locations((-38, -43)):
            Circle(F0_R, mode=Mode.SUBTRACT)
        Polygon((39.55, 40.3153212483), (41.1, 43), (39.55, 45.6846787517), (36.45, 45.6846787517), (34.9, 43), (36.45, 40.3153212483), align=None)
        with Locations((38, 43)):
            Circle(F0_R, mode=Mode.SUBTRACT)
        Polygon((-36.45, 40.3153212483), (-34.9, 43), (-36.45, 45.6846787517), (-39.55, 45.6846787517), (-41.1, 43), (-39.55, 40.3153212483), align=None)
        with Locations((-38, 43)):
            Circle(F0_R, mode=Mode.SUBTRACT)
        with BuildLine():
            ThreePointArc((-39.55, 40.3153212483), (-38, 39.9), (-36.45, 40.3153212483))
            Line((-36.45, 40.3153212483), (-39.55, 40.3153212483))
        make_face()
        with BuildLine():
            ThreePointArc((-41.1, 43), (-40.6846787517, 41.45), (-39.55, 40.3153212483))
            Line((-39.55, 40.3153212483), (-41.1, 43))
        make_face()
        with BuildLine():
            Line((36.45, -45.6846787517), (34.9, -43))
            ThreePointArc((34.9, -43), (35.3153212483, -44.55), (36.45, -45.6846787517))
        make_face()
        with BuildLine():
            Line((34.9, 43), (36.45, 45.6846787517))
            ThreePointArc((36.45, 45.6846787517), (35.3153212483, 44.55), (34.9, 43))
        make_face()
        with BuildLine():
            Line((-41.1, -43), (-39.55, -40.3153212483))
            ThreePointArc((-39.55, -40.3153212483), (-40.6846787517, -41.45), (-41.1, -43))
        make_face()
        with BuildLine():
            ThreePointArc((36.45, 40.3153212483), (38, 39.9), (39.55, 40.3153212483))
            Line((39.55, 40.3153212483), (36.45, 40.3153212483))
        make_face()
        with BuildLine():
            Line((-41.1, 43), (-39.55, 45.6846787517))
            ThreePointArc((-39.55, 45.6846787517), (-40.6846787517, 44.55), (-41.1, 43))
        make_face()
        with BuildLine():
            Line((36.45, 45.6846787517), (39.55, 45.6846787517))
            ThreePointArc((39.55, 45.6846787517), (38, 46.1), (36.45, 45.6846787517))
        make_face()
        with BuildLine():
            ThreePointArc((36.45, -45.6846787517), (38, -46.1), (39.55, -45.6846787517))
            Line((39.55, -45.6846787517), (36.45, -45.6846787517))
        make_face()
        with BuildLine():
            Line((-39.55, 45.6846787517), (-36.45, 45.6846787517))
            ThreePointArc((-36.45, 45.6846787517), (-38, 46.1), (-39.55, 45.6846787517))
        make_face()
        with BuildLine():
            Line((36.45, -40.3153212483), (39.55, -40.3153212483))
            ThreePointArc((39.55, -40.3153212483), (38, -39.9), (36.45, -40.3153212483))
        make_face()
        with BuildLine():
            ThreePointArc((-39.55, -45.6846787517), (-38, -46.1), (-36.45, -45.6846787517))
            Line((-36.45, -45.6846787517), (-39.55, -45.6846787517))
        make_face()
        with BuildLine():
            Line((39.55, 45.6846787517), (41.1, 43))
            ThreePointArc((41.1, 43), (40.6846787517, 44.55), (39.55, 45.6846787517))
        make_face()
        with BuildLine():
            ThreePointArc((34.9, 43), (35.3153212483, 41.45), (36.45, 40.3153212483))
            Line((36.45, 40.3153212483), (34.9, 43))
        make_face()
        with BuildLine():
            Line((-39.55, -45.6846787517), (-41.1, -43))
            ThreePointArc((-41.1, -43), (-40.6846787517, -44.55), (-39.55, -45.6846787517))
        make_face()
        with BuildLine():
            ThreePointArc((39.55, 40.3153212483), (40.6846787517, 41.45), (41.1, 43))
            Line((41.1, 43), (39.55, 40.3153212483))
        make_face()
        with BuildLine():
            ThreePointArc((39.55, -45.6846787517), (40.6846787517, -44.55), (41.1, -43))
            Line((41.1, -43), (39.55, -45.6846787517))
        make_face()
        with BuildLine():
            ThreePointArc((-36.45, -45.6846787517), (-35.3153212483, -44.55), (-34.9, -43))
            Line((-34.9, -43), (-36.45, -45.6846787517))
        make_face()
        with BuildLine():
            ThreePointArc((-36.45, 40.3153212483), (-35.3153212483, 41.45), (-34.9, 43))
            Line((-34.9, 43), (-36.45, 40.3153212483))
        make_face()
        with BuildLine():
            ThreePointArc((-34.9, -43), (-35.3153212483, -41.45), (-36.45, -40.3153212483))
            Line((-36.45, -40.3153212483), (-34.9, -43))
        make_face()
        with BuildLine():
            ThreePointArc((41.1, -43), (40.6846787517, -41.45), (39.55, -40.3153212483))
            Line((39.55, -40.3153212483), (41.1, -43))
        make_face()
        with BuildLine():
            Line((-36.45, 45.6846787517), (-34.9, 43))
            ThreePointArc((-34.9, 43), (-35.3153212483, 44.55), (-36.45, 45.6846787517))
        make_face()
        with BuildLine():
            Line((-39.55, -40.3153212483), (-36.45, -40.3153212483))
            ThreePointArc((-36.45, -40.3153212483), (-38, -39.9), (-39.55, -40.3153212483))
        make_face()
        with BuildLine():
            Line((34.9, -43), (36.45, -40.3153212483))
            ThreePointArc((36.45, -40.3153212483), (35.3153212483, -41.45), (34.9, -43))
        make_face()
    extrude(amount=-F2_DEPTH)

    # F0 (on Front) → F4 (cut)
    with BuildSketch(Plane.XZ):
        Polygon((41.1, -43), (39.55, -40.3153212483), (36.45, -40.3153212483), (34.9, -43), (36.45, -45.6846787517), (39.55, -45.6846787517), align=None)
        with Locations((38, -43)):
            Circle(F0_R, mode=Mode.SUBTRACT)
        Polygon((-34.9, -43), (-36.45, -40.3153212483), (-39.55, -40.3153212483), (-41.1, -43), (-39.55, -45.6846787517), (-36.45, -45.6846787517), align=None)
        with Locations((-38, -43)):
            Circle(F0_R, mode=Mode.SUBTRACT)
        Polygon((-36.45, 40.3153212483), (-34.9, 43), (-36.45, 45.6846787517), (-39.55, 45.6846787517), (-41.1, 43), (-39.55, 40.3153212483), align=None)
        with Locations((-38, 43)):
            Circle(F0_R, mode=Mode.SUBTRACT)
        Polygon((39.55, 40.3153212483), (41.1, 43), (39.55, 45.6846787517), (36.45, 45.6846787517), (34.9, 43), (36.45, 40.3153212483), align=None)
        with Locations((38, 43)):
            Circle(F0_R, mode=Mode.SUBTRACT)
    extrude(amount=-F4_DEPTH, mode=Mode.SUBTRACT)


solid = Compound([f1.part, f2.part])
